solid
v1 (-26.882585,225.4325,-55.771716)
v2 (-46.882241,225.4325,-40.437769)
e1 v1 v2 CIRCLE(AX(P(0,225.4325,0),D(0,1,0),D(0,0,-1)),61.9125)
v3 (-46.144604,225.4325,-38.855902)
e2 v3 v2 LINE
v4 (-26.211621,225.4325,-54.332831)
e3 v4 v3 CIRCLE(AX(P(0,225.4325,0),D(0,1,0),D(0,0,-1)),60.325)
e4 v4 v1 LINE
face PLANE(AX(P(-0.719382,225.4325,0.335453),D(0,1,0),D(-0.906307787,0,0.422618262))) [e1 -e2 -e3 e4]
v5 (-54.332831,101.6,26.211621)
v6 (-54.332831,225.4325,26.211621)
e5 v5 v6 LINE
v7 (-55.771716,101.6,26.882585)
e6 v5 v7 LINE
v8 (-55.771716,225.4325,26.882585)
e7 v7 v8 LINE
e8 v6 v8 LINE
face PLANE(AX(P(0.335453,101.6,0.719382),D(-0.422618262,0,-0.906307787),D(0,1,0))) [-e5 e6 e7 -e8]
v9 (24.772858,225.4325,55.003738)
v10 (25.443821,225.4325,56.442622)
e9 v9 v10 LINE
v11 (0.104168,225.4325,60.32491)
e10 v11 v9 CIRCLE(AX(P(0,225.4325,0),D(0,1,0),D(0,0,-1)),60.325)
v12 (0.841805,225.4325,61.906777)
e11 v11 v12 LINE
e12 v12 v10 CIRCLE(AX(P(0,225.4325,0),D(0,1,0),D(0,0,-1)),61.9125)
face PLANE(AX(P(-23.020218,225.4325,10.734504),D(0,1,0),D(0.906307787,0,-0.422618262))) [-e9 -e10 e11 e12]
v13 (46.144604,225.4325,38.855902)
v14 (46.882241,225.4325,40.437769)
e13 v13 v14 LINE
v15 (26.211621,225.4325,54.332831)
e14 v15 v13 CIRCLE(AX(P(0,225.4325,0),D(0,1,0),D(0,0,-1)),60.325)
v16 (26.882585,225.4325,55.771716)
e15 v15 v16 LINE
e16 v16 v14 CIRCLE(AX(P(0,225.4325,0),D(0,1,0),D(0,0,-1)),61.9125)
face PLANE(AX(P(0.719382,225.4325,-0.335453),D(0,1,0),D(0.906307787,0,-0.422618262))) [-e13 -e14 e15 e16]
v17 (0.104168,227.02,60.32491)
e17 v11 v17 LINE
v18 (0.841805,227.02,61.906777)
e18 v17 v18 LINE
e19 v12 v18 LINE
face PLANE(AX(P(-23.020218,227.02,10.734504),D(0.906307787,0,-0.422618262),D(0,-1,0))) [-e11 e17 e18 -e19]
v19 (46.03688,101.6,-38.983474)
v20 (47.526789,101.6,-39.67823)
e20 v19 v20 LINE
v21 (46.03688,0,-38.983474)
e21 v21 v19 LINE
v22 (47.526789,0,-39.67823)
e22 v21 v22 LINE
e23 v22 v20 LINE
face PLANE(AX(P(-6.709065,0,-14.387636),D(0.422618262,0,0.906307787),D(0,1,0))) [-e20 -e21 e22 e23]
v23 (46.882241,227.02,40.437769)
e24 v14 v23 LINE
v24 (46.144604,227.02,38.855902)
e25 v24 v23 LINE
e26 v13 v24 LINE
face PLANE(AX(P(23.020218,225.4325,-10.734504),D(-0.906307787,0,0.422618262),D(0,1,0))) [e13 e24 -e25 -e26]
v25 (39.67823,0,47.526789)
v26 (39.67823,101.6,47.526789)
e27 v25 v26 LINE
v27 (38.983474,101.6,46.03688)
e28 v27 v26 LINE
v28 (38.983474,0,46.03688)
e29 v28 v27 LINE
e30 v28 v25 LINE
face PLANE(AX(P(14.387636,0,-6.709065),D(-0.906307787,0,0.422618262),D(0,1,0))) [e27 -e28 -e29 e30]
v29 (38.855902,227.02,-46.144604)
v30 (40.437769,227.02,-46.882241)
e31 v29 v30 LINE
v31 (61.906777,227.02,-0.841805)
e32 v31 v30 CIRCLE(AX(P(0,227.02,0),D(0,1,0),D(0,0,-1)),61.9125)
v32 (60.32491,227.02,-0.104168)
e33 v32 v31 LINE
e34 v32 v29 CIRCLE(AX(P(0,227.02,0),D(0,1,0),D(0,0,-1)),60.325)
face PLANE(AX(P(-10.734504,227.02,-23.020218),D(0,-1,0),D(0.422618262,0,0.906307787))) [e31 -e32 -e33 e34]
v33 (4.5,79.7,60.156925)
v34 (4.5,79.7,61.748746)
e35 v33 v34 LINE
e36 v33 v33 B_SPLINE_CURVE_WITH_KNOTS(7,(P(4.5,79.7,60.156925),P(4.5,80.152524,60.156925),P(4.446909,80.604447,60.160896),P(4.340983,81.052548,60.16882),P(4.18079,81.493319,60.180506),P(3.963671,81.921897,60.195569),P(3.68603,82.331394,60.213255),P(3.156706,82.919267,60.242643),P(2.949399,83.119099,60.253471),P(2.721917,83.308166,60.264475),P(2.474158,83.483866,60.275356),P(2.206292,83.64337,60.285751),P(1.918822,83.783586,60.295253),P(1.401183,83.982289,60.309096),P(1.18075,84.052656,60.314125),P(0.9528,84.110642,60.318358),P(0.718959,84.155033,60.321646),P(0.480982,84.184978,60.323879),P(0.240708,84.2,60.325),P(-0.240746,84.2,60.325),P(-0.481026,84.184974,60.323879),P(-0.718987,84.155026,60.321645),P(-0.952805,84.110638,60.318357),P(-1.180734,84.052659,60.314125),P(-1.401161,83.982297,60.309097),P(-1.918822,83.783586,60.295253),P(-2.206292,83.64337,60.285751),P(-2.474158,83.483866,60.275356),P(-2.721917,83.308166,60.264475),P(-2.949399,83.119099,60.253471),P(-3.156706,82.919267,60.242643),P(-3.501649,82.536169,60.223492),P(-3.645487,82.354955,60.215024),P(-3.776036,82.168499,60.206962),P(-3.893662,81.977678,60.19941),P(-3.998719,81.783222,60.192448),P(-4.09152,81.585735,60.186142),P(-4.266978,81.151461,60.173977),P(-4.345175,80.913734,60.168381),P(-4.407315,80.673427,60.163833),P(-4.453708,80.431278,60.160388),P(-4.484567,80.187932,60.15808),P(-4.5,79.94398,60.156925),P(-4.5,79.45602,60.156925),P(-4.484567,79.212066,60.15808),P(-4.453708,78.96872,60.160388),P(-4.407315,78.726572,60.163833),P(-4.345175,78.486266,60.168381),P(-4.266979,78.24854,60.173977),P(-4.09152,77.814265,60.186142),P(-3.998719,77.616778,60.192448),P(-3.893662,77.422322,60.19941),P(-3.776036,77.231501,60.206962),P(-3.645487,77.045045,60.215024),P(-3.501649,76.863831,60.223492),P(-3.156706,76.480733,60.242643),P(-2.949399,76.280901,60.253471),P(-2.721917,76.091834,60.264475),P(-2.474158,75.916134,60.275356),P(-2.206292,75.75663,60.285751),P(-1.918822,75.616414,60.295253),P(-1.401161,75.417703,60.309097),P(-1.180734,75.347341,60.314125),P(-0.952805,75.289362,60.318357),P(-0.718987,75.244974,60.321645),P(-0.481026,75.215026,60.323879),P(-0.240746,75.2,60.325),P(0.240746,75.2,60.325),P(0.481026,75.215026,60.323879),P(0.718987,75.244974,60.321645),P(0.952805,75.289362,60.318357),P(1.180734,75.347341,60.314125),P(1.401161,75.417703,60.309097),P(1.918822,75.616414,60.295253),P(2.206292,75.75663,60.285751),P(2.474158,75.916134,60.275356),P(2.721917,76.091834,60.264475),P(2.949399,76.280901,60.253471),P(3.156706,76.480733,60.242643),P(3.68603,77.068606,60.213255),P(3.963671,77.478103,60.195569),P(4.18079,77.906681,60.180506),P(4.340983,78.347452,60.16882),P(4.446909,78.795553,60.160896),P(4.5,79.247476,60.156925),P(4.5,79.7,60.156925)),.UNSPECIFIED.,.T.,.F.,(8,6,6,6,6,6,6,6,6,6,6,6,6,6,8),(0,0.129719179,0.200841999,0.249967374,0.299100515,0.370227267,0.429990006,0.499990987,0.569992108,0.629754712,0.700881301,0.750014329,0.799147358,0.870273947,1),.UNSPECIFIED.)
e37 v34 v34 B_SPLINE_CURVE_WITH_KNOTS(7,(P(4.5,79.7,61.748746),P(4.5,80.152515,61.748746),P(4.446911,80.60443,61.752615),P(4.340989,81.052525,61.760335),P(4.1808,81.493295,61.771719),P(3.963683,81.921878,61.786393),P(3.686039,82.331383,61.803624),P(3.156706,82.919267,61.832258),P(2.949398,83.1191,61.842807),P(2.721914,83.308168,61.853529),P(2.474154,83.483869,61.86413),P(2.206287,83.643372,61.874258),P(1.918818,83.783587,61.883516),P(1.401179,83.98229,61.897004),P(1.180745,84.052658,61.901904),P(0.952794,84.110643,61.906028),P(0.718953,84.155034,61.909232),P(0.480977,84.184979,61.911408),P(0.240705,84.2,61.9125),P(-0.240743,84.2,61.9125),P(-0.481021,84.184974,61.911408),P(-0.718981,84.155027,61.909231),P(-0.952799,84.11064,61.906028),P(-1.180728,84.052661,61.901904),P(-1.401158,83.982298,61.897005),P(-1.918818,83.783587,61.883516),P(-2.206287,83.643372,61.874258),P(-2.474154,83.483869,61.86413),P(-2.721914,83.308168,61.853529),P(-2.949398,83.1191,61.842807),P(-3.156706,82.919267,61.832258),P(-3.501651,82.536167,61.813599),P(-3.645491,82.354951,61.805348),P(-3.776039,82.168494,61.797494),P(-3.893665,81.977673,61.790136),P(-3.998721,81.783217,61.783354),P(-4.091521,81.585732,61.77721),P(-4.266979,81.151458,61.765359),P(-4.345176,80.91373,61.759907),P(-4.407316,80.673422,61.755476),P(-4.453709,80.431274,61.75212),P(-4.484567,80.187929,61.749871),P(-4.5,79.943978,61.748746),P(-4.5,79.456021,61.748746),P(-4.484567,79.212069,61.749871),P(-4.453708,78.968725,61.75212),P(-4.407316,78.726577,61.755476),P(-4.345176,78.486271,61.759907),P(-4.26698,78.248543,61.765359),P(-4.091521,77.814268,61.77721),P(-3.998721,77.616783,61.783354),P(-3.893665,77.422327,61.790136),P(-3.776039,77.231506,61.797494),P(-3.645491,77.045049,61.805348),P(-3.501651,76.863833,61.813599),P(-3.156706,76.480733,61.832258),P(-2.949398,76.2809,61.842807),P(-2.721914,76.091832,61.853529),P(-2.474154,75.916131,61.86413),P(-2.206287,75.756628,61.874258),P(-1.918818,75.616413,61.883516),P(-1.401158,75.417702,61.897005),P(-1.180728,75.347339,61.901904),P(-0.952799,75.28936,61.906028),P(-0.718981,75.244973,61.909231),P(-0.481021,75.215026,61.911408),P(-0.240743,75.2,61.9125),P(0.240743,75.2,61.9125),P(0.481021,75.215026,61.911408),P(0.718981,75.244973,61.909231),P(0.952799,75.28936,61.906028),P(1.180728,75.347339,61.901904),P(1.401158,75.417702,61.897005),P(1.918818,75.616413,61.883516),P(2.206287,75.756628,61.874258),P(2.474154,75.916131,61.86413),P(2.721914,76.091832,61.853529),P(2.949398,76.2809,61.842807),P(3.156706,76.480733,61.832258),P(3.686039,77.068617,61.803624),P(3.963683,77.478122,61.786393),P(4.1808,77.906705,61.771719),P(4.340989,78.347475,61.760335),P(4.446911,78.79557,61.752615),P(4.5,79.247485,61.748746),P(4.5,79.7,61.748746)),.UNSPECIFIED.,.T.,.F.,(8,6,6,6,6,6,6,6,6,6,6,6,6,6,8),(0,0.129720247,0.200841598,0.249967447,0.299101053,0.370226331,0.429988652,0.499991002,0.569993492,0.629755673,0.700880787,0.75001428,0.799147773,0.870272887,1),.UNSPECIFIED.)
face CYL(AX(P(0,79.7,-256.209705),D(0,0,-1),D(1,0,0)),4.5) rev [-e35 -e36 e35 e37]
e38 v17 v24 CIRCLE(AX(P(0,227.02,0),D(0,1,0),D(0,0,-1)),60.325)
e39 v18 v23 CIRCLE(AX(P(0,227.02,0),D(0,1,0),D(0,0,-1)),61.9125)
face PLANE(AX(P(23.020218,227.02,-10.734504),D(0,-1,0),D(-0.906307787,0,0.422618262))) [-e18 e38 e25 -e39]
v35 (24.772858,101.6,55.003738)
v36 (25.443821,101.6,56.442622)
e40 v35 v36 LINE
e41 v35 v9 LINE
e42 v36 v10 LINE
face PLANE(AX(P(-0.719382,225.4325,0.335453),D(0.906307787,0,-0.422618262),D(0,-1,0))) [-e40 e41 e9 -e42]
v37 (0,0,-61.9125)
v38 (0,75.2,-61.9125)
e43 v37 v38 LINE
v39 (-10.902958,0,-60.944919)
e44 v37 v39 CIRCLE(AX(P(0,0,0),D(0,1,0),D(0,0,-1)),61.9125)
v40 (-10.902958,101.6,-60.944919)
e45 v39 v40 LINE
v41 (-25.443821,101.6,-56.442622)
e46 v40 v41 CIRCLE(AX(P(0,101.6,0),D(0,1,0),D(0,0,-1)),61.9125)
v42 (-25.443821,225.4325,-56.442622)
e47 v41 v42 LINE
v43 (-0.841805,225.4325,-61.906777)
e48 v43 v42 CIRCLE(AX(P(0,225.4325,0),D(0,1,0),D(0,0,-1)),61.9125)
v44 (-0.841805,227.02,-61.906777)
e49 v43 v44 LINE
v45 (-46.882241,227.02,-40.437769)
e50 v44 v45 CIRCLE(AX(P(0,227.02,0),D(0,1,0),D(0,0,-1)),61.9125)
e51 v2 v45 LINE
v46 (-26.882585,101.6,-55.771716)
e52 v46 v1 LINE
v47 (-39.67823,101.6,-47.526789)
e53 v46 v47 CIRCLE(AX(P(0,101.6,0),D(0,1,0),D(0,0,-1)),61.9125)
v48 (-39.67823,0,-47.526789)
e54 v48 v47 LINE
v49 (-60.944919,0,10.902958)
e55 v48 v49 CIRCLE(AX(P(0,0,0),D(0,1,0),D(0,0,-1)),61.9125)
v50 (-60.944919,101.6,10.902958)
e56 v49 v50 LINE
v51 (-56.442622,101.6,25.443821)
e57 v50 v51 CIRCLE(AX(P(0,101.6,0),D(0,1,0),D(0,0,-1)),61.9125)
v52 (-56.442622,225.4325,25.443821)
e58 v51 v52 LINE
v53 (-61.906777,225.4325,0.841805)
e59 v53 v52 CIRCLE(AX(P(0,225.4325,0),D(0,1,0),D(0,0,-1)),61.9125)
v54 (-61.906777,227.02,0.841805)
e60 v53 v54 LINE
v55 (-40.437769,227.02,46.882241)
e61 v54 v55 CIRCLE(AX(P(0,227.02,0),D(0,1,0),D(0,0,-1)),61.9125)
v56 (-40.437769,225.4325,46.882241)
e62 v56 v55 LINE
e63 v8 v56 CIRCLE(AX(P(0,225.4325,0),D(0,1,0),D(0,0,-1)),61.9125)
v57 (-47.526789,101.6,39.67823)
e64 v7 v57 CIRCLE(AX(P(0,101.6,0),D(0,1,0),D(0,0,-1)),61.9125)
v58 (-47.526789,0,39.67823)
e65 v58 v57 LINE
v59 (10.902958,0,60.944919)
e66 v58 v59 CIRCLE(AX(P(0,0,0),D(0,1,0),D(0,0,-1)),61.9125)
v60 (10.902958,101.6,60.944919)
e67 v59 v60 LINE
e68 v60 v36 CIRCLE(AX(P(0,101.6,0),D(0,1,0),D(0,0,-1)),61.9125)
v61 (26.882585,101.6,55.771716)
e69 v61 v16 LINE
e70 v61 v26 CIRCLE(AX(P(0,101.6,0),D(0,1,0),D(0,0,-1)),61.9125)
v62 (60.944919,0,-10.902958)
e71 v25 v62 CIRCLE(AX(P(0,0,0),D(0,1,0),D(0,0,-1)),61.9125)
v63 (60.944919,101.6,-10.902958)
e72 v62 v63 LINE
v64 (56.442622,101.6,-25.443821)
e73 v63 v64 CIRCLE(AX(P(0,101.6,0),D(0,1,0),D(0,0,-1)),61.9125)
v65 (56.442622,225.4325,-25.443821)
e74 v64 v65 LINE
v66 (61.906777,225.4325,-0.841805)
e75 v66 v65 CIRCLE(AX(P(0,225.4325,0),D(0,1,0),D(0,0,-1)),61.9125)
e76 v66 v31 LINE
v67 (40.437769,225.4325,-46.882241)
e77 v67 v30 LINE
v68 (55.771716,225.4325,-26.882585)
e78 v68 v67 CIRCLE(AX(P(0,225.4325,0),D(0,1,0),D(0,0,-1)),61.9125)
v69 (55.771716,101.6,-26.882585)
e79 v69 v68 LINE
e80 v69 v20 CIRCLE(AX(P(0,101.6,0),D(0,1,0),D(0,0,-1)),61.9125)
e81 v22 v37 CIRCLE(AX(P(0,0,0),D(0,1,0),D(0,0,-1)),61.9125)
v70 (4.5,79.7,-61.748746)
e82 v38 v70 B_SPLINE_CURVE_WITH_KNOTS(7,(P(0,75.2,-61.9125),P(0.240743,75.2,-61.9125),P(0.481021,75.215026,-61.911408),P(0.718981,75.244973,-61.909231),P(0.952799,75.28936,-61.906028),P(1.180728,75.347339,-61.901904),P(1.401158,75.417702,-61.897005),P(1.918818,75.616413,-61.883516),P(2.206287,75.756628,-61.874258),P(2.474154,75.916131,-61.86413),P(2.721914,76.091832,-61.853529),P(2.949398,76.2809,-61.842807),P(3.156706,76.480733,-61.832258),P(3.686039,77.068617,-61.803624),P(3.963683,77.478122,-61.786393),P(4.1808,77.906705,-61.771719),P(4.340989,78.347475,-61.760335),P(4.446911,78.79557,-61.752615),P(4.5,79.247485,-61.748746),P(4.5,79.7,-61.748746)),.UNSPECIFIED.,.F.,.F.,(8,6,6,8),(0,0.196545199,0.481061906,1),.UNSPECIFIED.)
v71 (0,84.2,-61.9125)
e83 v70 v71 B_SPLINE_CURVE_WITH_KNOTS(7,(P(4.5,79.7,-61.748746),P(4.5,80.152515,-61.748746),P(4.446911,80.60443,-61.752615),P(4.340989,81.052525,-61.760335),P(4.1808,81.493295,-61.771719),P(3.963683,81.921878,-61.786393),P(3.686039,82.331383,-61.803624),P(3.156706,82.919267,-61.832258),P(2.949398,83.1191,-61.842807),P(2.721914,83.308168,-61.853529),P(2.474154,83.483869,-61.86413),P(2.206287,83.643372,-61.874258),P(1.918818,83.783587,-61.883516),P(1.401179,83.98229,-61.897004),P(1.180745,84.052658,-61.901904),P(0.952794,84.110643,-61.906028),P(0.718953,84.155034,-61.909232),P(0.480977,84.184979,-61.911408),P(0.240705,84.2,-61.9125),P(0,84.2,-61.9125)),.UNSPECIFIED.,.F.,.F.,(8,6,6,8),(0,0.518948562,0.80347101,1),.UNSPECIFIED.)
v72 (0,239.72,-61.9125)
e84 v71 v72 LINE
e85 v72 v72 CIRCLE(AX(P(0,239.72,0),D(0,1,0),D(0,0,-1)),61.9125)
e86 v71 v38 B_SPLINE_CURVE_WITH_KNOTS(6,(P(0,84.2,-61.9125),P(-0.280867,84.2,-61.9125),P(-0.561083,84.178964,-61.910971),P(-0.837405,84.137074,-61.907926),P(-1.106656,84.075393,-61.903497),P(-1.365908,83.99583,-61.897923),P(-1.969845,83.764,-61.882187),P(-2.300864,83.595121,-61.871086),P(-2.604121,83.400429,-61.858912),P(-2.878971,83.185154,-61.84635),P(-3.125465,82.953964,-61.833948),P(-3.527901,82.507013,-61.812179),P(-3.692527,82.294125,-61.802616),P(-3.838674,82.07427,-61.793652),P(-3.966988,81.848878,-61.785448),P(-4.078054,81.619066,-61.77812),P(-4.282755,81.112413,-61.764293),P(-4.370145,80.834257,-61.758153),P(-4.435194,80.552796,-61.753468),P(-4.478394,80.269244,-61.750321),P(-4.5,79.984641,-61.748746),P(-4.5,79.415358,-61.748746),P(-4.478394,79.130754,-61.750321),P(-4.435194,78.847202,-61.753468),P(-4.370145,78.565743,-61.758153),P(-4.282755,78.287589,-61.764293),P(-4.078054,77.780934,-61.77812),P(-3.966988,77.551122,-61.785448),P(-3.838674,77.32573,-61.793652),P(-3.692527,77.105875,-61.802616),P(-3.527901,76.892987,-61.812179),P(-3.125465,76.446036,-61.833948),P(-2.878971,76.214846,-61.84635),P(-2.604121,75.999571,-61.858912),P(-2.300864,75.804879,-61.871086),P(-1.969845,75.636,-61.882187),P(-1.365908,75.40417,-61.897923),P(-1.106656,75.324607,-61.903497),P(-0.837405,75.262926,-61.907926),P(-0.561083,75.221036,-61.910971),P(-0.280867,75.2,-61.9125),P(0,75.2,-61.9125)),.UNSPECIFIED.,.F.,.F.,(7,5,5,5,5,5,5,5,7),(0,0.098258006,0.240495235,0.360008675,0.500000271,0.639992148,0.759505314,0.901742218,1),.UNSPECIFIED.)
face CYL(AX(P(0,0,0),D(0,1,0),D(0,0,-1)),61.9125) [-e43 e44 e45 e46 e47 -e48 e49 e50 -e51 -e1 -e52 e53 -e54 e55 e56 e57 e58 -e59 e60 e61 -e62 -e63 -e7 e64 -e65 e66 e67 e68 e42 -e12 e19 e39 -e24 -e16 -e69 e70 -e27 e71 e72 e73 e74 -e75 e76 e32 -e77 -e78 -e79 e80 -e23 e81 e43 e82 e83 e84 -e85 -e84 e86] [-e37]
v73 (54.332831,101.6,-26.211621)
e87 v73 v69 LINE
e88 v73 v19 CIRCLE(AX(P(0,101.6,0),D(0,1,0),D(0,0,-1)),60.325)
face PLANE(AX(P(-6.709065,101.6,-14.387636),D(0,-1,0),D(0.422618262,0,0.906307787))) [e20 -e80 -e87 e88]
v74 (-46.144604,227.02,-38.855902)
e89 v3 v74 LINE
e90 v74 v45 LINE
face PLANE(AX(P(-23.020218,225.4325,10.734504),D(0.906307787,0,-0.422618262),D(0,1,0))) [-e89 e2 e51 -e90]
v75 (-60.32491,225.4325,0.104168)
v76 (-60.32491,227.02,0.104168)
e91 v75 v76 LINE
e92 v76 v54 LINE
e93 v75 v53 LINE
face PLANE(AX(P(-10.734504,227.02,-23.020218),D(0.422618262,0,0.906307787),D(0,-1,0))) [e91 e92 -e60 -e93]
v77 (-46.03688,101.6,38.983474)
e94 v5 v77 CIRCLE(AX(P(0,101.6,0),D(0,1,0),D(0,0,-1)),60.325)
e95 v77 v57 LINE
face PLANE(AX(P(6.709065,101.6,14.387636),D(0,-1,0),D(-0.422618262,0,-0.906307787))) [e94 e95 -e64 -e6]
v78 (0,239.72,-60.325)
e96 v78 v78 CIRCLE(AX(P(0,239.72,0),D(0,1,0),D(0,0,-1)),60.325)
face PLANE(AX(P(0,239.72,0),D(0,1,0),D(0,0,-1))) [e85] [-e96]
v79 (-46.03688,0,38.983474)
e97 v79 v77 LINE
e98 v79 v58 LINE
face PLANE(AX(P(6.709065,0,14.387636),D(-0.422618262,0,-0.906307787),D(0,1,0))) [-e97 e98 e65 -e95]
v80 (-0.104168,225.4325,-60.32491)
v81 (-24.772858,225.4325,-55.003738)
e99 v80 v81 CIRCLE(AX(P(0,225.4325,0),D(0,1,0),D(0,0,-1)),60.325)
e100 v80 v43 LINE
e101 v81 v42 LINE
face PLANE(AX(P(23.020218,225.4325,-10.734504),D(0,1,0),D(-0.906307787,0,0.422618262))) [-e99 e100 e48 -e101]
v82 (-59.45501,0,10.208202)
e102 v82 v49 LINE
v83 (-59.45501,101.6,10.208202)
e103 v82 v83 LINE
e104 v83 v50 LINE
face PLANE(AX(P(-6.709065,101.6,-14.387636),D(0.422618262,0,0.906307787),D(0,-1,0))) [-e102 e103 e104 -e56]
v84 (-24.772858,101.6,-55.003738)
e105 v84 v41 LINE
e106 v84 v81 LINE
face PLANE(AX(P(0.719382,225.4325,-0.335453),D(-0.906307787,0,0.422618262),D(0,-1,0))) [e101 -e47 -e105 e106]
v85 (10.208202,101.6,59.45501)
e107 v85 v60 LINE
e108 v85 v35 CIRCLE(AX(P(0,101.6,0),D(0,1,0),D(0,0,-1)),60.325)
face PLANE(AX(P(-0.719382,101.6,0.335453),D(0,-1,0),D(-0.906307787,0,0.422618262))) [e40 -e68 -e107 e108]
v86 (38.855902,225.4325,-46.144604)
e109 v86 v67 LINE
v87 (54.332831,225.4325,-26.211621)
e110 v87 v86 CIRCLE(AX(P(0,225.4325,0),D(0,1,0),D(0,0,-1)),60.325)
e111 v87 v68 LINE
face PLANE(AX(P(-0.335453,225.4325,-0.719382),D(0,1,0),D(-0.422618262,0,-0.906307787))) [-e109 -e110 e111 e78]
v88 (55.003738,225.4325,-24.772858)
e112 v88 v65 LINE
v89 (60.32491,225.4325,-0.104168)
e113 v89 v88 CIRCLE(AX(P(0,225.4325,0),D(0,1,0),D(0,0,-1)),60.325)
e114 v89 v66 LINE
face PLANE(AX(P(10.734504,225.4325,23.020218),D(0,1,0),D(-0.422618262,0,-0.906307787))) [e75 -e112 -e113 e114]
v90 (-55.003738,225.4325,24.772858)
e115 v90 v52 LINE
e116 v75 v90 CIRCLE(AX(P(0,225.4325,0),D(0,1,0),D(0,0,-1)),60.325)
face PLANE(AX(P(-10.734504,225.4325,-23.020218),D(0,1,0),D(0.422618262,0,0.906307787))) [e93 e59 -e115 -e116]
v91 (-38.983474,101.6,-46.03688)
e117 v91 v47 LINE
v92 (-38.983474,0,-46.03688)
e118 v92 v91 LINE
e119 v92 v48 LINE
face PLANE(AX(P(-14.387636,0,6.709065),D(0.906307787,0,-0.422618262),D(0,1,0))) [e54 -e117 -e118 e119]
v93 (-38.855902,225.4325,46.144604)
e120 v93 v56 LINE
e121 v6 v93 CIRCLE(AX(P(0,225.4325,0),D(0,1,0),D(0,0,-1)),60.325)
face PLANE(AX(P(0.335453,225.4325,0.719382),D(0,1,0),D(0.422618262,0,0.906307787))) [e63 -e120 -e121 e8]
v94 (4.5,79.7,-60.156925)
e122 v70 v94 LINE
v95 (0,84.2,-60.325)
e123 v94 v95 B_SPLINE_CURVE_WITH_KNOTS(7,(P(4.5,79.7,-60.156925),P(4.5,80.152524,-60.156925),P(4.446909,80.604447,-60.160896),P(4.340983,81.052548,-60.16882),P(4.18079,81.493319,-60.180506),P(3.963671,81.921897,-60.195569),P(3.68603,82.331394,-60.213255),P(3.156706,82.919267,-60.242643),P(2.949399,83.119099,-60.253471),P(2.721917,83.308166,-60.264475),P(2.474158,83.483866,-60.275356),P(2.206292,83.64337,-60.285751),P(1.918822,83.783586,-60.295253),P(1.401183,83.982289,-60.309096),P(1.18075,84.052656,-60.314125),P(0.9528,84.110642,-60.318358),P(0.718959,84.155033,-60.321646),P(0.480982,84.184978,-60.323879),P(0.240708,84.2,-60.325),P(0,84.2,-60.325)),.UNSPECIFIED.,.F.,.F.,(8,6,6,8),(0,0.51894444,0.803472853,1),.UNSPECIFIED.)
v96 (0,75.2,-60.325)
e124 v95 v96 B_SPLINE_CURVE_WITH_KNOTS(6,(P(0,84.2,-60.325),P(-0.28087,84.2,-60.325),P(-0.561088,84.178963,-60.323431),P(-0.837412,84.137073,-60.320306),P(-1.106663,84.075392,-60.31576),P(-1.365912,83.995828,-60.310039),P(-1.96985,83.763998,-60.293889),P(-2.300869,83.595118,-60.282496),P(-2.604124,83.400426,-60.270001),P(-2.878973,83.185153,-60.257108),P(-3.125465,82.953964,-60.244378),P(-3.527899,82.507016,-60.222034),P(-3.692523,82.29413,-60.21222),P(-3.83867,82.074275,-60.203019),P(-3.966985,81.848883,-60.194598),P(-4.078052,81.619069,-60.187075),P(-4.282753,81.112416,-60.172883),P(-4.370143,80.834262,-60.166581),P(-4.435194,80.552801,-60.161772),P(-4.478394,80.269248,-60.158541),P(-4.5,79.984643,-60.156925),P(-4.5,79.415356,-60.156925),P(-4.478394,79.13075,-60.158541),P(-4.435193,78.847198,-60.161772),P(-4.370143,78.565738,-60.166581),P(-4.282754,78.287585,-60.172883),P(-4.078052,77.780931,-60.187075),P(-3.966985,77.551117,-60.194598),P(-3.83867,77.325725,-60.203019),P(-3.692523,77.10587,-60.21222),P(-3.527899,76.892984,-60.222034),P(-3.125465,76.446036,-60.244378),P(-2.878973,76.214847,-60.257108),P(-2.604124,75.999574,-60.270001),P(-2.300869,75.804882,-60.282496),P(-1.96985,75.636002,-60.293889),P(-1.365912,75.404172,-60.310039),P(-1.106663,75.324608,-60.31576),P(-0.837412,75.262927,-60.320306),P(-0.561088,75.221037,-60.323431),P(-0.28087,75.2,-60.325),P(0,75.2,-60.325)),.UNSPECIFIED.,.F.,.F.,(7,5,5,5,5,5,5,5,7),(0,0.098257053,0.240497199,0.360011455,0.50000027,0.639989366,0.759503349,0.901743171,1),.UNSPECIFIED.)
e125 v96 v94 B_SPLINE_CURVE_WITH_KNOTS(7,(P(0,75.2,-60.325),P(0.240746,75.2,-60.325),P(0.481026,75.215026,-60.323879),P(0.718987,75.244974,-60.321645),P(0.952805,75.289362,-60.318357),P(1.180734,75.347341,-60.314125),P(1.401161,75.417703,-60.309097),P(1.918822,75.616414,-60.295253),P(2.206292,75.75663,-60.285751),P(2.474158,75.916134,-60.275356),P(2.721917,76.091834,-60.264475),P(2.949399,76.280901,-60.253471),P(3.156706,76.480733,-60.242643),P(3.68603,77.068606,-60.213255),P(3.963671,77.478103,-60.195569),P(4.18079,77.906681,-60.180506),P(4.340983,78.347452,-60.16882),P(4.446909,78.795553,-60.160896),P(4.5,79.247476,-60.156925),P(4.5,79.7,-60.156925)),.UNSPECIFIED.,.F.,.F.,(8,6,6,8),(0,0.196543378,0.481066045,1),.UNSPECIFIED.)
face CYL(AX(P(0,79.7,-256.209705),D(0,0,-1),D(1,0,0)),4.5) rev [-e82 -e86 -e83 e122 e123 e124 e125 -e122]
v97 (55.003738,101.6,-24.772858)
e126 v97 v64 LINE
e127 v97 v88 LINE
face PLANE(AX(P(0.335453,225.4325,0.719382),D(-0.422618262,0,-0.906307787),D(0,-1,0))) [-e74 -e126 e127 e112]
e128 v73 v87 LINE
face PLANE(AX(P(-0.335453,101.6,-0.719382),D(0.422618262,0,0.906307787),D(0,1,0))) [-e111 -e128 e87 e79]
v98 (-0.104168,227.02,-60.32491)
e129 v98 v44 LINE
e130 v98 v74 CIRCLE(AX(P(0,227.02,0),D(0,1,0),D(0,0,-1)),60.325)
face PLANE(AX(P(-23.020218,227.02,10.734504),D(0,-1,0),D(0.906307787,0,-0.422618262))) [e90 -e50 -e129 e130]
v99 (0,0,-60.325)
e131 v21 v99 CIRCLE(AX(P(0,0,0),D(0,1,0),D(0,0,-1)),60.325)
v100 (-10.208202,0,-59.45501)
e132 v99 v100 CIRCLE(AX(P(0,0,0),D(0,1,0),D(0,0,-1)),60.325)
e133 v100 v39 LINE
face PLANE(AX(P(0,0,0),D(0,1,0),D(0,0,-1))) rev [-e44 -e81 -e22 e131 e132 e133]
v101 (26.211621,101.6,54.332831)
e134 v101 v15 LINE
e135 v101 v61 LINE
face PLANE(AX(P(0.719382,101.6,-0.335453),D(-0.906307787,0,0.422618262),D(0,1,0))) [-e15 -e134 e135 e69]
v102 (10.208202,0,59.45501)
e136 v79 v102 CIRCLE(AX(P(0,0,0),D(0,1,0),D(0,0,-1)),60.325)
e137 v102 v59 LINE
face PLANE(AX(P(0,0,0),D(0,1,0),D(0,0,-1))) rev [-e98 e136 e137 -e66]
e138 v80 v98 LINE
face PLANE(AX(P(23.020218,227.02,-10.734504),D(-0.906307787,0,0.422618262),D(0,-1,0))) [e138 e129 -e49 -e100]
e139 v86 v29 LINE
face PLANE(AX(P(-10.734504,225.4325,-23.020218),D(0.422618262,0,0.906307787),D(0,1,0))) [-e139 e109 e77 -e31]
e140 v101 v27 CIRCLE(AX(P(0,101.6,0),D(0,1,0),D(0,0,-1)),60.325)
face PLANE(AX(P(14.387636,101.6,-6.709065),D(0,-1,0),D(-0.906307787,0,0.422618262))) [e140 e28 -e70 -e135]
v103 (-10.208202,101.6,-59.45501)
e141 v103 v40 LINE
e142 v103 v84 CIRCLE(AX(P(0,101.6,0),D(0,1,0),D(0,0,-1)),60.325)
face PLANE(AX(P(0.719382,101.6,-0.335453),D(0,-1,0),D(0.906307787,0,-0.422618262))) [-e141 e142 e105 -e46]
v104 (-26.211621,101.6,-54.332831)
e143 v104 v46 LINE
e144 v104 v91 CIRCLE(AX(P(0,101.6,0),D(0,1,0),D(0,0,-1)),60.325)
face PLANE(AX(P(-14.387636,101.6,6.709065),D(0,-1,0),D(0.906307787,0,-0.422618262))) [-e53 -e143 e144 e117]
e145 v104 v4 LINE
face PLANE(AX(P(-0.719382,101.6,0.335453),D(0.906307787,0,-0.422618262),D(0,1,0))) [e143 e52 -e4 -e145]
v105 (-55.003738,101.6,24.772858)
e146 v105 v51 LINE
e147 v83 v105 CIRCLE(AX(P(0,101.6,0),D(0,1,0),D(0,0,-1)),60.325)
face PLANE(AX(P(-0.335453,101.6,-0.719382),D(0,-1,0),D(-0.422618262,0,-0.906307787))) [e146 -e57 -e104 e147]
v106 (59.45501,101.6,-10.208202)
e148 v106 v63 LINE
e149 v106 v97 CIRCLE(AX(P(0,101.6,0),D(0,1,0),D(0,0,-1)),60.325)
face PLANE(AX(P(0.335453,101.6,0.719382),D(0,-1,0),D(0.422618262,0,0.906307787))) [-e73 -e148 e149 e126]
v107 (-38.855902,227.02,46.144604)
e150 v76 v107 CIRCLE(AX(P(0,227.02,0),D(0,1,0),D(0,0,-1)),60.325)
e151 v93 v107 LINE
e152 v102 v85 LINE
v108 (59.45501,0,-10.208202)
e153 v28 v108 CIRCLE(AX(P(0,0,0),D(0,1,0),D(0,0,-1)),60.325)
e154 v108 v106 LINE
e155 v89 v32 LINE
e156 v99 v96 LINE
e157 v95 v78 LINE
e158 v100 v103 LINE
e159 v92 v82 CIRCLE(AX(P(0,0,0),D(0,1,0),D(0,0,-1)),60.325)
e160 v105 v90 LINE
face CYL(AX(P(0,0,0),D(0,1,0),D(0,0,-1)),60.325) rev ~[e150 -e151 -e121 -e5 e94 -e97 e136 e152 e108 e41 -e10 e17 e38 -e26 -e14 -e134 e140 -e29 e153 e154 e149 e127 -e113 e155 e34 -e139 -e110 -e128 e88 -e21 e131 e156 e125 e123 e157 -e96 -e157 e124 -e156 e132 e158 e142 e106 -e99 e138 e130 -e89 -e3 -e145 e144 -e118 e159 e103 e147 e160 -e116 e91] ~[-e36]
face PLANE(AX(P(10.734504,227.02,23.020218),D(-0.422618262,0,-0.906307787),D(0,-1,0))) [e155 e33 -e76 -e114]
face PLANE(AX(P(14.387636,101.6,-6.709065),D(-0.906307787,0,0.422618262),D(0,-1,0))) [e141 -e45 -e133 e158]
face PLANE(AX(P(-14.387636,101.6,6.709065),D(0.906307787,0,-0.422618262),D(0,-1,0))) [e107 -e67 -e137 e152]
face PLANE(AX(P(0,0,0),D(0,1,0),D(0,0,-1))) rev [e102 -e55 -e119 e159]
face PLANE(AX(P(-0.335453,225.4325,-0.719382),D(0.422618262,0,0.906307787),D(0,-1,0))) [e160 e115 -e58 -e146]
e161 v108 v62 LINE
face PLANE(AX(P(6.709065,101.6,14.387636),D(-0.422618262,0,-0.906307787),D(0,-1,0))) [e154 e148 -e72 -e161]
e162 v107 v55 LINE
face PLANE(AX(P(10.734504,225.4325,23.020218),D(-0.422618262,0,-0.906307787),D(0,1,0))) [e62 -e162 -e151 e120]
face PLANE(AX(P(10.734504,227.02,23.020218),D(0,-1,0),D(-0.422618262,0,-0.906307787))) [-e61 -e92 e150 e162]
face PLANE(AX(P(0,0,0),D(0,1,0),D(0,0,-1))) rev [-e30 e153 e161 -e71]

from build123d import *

# Parameters (mm, degrees)
CUT_EXTRUDE1_DEPTH      = 256.209705365
CUT_EXTRUDE1_DEPTH_BACK = 256.209705365
SKETCH2_R               = 4.5
CUT_EXTRUDE2_DEPTH      = 256.209705507
CIRPATTERN1_COUNT       = 4


with BuildPart() as part:
    # Sketch1 → Revolve1 (revolve)
    with BuildSketch(Plane.XY, mode=Mode.PRIVATE) as revolve1_sk:
        Polygon((-60.325, 239.72), (-60.325, 238.1325), (-60.325, 0), (-61.9125, 0), (-61.9125, 239.72), align=None)
    revolve(revolve1_sk.sketch.rotate(Axis((0, 0, 0), (0, 1, 0)), 270), axis=Axis((0, 0, 0), (0, 1, 0)))

    # Sketch2 → Cut-Extrude1 (cut, two sides: drawn at the far end of the back side and taken through both)
    with BuildSketch(Plane.XY.offset(-CUT_EXTRUDE1_DEPTH_BACK)):
        with Locations((0, 79.7)):
            Circle(SKETCH2_R)
    extrude(amount=CUT_EXTRUDE1_DEPTH + CUT_EXTRUDE1_DEPTH_BACK, mode=Mode.SUBTRACT)

    # Sketch3 → Cut-Extrude2 (cut, through all)
    with BuildSketch(Plane(origin=(0, 0, 0), x_dir=(0.906307787036651, 0, -0.4226182617406972), z_dir=(0.4226182617406972, 0, 0.906307787036651))):
        Polygon((-15.875, 0), (-15.875, 101.6), (-0.79375, 101.6), (-0.79375, 225.4325), (-25.4, 225.4325), (-25.4, 227.02), (25.4, 227.02), (25.4, 225.4325), (0.79375, 225.4325), (0.79375, 101.6), (15.875, 101.6), (15.875, 0), align=None)
    cut_extrude2 = extrude(amount=-CUT_EXTRUDE2_DEPTH, mode=Mode.SUBTRACT)

    # CirPattern1: Cut-Extrude2 ×4 about axis
    cirpattern1_axis = Axis((0, 0, 0), (0, 1, 0))
    for i in range(1, CIRPATTERN1_COUNT):
        add(cut_extrude2.rotate(cirpattern1_axis, i * 360 / CIRPATTERN1_COUNT), mode=Mode.SUBTRACT)


solid = part.part
